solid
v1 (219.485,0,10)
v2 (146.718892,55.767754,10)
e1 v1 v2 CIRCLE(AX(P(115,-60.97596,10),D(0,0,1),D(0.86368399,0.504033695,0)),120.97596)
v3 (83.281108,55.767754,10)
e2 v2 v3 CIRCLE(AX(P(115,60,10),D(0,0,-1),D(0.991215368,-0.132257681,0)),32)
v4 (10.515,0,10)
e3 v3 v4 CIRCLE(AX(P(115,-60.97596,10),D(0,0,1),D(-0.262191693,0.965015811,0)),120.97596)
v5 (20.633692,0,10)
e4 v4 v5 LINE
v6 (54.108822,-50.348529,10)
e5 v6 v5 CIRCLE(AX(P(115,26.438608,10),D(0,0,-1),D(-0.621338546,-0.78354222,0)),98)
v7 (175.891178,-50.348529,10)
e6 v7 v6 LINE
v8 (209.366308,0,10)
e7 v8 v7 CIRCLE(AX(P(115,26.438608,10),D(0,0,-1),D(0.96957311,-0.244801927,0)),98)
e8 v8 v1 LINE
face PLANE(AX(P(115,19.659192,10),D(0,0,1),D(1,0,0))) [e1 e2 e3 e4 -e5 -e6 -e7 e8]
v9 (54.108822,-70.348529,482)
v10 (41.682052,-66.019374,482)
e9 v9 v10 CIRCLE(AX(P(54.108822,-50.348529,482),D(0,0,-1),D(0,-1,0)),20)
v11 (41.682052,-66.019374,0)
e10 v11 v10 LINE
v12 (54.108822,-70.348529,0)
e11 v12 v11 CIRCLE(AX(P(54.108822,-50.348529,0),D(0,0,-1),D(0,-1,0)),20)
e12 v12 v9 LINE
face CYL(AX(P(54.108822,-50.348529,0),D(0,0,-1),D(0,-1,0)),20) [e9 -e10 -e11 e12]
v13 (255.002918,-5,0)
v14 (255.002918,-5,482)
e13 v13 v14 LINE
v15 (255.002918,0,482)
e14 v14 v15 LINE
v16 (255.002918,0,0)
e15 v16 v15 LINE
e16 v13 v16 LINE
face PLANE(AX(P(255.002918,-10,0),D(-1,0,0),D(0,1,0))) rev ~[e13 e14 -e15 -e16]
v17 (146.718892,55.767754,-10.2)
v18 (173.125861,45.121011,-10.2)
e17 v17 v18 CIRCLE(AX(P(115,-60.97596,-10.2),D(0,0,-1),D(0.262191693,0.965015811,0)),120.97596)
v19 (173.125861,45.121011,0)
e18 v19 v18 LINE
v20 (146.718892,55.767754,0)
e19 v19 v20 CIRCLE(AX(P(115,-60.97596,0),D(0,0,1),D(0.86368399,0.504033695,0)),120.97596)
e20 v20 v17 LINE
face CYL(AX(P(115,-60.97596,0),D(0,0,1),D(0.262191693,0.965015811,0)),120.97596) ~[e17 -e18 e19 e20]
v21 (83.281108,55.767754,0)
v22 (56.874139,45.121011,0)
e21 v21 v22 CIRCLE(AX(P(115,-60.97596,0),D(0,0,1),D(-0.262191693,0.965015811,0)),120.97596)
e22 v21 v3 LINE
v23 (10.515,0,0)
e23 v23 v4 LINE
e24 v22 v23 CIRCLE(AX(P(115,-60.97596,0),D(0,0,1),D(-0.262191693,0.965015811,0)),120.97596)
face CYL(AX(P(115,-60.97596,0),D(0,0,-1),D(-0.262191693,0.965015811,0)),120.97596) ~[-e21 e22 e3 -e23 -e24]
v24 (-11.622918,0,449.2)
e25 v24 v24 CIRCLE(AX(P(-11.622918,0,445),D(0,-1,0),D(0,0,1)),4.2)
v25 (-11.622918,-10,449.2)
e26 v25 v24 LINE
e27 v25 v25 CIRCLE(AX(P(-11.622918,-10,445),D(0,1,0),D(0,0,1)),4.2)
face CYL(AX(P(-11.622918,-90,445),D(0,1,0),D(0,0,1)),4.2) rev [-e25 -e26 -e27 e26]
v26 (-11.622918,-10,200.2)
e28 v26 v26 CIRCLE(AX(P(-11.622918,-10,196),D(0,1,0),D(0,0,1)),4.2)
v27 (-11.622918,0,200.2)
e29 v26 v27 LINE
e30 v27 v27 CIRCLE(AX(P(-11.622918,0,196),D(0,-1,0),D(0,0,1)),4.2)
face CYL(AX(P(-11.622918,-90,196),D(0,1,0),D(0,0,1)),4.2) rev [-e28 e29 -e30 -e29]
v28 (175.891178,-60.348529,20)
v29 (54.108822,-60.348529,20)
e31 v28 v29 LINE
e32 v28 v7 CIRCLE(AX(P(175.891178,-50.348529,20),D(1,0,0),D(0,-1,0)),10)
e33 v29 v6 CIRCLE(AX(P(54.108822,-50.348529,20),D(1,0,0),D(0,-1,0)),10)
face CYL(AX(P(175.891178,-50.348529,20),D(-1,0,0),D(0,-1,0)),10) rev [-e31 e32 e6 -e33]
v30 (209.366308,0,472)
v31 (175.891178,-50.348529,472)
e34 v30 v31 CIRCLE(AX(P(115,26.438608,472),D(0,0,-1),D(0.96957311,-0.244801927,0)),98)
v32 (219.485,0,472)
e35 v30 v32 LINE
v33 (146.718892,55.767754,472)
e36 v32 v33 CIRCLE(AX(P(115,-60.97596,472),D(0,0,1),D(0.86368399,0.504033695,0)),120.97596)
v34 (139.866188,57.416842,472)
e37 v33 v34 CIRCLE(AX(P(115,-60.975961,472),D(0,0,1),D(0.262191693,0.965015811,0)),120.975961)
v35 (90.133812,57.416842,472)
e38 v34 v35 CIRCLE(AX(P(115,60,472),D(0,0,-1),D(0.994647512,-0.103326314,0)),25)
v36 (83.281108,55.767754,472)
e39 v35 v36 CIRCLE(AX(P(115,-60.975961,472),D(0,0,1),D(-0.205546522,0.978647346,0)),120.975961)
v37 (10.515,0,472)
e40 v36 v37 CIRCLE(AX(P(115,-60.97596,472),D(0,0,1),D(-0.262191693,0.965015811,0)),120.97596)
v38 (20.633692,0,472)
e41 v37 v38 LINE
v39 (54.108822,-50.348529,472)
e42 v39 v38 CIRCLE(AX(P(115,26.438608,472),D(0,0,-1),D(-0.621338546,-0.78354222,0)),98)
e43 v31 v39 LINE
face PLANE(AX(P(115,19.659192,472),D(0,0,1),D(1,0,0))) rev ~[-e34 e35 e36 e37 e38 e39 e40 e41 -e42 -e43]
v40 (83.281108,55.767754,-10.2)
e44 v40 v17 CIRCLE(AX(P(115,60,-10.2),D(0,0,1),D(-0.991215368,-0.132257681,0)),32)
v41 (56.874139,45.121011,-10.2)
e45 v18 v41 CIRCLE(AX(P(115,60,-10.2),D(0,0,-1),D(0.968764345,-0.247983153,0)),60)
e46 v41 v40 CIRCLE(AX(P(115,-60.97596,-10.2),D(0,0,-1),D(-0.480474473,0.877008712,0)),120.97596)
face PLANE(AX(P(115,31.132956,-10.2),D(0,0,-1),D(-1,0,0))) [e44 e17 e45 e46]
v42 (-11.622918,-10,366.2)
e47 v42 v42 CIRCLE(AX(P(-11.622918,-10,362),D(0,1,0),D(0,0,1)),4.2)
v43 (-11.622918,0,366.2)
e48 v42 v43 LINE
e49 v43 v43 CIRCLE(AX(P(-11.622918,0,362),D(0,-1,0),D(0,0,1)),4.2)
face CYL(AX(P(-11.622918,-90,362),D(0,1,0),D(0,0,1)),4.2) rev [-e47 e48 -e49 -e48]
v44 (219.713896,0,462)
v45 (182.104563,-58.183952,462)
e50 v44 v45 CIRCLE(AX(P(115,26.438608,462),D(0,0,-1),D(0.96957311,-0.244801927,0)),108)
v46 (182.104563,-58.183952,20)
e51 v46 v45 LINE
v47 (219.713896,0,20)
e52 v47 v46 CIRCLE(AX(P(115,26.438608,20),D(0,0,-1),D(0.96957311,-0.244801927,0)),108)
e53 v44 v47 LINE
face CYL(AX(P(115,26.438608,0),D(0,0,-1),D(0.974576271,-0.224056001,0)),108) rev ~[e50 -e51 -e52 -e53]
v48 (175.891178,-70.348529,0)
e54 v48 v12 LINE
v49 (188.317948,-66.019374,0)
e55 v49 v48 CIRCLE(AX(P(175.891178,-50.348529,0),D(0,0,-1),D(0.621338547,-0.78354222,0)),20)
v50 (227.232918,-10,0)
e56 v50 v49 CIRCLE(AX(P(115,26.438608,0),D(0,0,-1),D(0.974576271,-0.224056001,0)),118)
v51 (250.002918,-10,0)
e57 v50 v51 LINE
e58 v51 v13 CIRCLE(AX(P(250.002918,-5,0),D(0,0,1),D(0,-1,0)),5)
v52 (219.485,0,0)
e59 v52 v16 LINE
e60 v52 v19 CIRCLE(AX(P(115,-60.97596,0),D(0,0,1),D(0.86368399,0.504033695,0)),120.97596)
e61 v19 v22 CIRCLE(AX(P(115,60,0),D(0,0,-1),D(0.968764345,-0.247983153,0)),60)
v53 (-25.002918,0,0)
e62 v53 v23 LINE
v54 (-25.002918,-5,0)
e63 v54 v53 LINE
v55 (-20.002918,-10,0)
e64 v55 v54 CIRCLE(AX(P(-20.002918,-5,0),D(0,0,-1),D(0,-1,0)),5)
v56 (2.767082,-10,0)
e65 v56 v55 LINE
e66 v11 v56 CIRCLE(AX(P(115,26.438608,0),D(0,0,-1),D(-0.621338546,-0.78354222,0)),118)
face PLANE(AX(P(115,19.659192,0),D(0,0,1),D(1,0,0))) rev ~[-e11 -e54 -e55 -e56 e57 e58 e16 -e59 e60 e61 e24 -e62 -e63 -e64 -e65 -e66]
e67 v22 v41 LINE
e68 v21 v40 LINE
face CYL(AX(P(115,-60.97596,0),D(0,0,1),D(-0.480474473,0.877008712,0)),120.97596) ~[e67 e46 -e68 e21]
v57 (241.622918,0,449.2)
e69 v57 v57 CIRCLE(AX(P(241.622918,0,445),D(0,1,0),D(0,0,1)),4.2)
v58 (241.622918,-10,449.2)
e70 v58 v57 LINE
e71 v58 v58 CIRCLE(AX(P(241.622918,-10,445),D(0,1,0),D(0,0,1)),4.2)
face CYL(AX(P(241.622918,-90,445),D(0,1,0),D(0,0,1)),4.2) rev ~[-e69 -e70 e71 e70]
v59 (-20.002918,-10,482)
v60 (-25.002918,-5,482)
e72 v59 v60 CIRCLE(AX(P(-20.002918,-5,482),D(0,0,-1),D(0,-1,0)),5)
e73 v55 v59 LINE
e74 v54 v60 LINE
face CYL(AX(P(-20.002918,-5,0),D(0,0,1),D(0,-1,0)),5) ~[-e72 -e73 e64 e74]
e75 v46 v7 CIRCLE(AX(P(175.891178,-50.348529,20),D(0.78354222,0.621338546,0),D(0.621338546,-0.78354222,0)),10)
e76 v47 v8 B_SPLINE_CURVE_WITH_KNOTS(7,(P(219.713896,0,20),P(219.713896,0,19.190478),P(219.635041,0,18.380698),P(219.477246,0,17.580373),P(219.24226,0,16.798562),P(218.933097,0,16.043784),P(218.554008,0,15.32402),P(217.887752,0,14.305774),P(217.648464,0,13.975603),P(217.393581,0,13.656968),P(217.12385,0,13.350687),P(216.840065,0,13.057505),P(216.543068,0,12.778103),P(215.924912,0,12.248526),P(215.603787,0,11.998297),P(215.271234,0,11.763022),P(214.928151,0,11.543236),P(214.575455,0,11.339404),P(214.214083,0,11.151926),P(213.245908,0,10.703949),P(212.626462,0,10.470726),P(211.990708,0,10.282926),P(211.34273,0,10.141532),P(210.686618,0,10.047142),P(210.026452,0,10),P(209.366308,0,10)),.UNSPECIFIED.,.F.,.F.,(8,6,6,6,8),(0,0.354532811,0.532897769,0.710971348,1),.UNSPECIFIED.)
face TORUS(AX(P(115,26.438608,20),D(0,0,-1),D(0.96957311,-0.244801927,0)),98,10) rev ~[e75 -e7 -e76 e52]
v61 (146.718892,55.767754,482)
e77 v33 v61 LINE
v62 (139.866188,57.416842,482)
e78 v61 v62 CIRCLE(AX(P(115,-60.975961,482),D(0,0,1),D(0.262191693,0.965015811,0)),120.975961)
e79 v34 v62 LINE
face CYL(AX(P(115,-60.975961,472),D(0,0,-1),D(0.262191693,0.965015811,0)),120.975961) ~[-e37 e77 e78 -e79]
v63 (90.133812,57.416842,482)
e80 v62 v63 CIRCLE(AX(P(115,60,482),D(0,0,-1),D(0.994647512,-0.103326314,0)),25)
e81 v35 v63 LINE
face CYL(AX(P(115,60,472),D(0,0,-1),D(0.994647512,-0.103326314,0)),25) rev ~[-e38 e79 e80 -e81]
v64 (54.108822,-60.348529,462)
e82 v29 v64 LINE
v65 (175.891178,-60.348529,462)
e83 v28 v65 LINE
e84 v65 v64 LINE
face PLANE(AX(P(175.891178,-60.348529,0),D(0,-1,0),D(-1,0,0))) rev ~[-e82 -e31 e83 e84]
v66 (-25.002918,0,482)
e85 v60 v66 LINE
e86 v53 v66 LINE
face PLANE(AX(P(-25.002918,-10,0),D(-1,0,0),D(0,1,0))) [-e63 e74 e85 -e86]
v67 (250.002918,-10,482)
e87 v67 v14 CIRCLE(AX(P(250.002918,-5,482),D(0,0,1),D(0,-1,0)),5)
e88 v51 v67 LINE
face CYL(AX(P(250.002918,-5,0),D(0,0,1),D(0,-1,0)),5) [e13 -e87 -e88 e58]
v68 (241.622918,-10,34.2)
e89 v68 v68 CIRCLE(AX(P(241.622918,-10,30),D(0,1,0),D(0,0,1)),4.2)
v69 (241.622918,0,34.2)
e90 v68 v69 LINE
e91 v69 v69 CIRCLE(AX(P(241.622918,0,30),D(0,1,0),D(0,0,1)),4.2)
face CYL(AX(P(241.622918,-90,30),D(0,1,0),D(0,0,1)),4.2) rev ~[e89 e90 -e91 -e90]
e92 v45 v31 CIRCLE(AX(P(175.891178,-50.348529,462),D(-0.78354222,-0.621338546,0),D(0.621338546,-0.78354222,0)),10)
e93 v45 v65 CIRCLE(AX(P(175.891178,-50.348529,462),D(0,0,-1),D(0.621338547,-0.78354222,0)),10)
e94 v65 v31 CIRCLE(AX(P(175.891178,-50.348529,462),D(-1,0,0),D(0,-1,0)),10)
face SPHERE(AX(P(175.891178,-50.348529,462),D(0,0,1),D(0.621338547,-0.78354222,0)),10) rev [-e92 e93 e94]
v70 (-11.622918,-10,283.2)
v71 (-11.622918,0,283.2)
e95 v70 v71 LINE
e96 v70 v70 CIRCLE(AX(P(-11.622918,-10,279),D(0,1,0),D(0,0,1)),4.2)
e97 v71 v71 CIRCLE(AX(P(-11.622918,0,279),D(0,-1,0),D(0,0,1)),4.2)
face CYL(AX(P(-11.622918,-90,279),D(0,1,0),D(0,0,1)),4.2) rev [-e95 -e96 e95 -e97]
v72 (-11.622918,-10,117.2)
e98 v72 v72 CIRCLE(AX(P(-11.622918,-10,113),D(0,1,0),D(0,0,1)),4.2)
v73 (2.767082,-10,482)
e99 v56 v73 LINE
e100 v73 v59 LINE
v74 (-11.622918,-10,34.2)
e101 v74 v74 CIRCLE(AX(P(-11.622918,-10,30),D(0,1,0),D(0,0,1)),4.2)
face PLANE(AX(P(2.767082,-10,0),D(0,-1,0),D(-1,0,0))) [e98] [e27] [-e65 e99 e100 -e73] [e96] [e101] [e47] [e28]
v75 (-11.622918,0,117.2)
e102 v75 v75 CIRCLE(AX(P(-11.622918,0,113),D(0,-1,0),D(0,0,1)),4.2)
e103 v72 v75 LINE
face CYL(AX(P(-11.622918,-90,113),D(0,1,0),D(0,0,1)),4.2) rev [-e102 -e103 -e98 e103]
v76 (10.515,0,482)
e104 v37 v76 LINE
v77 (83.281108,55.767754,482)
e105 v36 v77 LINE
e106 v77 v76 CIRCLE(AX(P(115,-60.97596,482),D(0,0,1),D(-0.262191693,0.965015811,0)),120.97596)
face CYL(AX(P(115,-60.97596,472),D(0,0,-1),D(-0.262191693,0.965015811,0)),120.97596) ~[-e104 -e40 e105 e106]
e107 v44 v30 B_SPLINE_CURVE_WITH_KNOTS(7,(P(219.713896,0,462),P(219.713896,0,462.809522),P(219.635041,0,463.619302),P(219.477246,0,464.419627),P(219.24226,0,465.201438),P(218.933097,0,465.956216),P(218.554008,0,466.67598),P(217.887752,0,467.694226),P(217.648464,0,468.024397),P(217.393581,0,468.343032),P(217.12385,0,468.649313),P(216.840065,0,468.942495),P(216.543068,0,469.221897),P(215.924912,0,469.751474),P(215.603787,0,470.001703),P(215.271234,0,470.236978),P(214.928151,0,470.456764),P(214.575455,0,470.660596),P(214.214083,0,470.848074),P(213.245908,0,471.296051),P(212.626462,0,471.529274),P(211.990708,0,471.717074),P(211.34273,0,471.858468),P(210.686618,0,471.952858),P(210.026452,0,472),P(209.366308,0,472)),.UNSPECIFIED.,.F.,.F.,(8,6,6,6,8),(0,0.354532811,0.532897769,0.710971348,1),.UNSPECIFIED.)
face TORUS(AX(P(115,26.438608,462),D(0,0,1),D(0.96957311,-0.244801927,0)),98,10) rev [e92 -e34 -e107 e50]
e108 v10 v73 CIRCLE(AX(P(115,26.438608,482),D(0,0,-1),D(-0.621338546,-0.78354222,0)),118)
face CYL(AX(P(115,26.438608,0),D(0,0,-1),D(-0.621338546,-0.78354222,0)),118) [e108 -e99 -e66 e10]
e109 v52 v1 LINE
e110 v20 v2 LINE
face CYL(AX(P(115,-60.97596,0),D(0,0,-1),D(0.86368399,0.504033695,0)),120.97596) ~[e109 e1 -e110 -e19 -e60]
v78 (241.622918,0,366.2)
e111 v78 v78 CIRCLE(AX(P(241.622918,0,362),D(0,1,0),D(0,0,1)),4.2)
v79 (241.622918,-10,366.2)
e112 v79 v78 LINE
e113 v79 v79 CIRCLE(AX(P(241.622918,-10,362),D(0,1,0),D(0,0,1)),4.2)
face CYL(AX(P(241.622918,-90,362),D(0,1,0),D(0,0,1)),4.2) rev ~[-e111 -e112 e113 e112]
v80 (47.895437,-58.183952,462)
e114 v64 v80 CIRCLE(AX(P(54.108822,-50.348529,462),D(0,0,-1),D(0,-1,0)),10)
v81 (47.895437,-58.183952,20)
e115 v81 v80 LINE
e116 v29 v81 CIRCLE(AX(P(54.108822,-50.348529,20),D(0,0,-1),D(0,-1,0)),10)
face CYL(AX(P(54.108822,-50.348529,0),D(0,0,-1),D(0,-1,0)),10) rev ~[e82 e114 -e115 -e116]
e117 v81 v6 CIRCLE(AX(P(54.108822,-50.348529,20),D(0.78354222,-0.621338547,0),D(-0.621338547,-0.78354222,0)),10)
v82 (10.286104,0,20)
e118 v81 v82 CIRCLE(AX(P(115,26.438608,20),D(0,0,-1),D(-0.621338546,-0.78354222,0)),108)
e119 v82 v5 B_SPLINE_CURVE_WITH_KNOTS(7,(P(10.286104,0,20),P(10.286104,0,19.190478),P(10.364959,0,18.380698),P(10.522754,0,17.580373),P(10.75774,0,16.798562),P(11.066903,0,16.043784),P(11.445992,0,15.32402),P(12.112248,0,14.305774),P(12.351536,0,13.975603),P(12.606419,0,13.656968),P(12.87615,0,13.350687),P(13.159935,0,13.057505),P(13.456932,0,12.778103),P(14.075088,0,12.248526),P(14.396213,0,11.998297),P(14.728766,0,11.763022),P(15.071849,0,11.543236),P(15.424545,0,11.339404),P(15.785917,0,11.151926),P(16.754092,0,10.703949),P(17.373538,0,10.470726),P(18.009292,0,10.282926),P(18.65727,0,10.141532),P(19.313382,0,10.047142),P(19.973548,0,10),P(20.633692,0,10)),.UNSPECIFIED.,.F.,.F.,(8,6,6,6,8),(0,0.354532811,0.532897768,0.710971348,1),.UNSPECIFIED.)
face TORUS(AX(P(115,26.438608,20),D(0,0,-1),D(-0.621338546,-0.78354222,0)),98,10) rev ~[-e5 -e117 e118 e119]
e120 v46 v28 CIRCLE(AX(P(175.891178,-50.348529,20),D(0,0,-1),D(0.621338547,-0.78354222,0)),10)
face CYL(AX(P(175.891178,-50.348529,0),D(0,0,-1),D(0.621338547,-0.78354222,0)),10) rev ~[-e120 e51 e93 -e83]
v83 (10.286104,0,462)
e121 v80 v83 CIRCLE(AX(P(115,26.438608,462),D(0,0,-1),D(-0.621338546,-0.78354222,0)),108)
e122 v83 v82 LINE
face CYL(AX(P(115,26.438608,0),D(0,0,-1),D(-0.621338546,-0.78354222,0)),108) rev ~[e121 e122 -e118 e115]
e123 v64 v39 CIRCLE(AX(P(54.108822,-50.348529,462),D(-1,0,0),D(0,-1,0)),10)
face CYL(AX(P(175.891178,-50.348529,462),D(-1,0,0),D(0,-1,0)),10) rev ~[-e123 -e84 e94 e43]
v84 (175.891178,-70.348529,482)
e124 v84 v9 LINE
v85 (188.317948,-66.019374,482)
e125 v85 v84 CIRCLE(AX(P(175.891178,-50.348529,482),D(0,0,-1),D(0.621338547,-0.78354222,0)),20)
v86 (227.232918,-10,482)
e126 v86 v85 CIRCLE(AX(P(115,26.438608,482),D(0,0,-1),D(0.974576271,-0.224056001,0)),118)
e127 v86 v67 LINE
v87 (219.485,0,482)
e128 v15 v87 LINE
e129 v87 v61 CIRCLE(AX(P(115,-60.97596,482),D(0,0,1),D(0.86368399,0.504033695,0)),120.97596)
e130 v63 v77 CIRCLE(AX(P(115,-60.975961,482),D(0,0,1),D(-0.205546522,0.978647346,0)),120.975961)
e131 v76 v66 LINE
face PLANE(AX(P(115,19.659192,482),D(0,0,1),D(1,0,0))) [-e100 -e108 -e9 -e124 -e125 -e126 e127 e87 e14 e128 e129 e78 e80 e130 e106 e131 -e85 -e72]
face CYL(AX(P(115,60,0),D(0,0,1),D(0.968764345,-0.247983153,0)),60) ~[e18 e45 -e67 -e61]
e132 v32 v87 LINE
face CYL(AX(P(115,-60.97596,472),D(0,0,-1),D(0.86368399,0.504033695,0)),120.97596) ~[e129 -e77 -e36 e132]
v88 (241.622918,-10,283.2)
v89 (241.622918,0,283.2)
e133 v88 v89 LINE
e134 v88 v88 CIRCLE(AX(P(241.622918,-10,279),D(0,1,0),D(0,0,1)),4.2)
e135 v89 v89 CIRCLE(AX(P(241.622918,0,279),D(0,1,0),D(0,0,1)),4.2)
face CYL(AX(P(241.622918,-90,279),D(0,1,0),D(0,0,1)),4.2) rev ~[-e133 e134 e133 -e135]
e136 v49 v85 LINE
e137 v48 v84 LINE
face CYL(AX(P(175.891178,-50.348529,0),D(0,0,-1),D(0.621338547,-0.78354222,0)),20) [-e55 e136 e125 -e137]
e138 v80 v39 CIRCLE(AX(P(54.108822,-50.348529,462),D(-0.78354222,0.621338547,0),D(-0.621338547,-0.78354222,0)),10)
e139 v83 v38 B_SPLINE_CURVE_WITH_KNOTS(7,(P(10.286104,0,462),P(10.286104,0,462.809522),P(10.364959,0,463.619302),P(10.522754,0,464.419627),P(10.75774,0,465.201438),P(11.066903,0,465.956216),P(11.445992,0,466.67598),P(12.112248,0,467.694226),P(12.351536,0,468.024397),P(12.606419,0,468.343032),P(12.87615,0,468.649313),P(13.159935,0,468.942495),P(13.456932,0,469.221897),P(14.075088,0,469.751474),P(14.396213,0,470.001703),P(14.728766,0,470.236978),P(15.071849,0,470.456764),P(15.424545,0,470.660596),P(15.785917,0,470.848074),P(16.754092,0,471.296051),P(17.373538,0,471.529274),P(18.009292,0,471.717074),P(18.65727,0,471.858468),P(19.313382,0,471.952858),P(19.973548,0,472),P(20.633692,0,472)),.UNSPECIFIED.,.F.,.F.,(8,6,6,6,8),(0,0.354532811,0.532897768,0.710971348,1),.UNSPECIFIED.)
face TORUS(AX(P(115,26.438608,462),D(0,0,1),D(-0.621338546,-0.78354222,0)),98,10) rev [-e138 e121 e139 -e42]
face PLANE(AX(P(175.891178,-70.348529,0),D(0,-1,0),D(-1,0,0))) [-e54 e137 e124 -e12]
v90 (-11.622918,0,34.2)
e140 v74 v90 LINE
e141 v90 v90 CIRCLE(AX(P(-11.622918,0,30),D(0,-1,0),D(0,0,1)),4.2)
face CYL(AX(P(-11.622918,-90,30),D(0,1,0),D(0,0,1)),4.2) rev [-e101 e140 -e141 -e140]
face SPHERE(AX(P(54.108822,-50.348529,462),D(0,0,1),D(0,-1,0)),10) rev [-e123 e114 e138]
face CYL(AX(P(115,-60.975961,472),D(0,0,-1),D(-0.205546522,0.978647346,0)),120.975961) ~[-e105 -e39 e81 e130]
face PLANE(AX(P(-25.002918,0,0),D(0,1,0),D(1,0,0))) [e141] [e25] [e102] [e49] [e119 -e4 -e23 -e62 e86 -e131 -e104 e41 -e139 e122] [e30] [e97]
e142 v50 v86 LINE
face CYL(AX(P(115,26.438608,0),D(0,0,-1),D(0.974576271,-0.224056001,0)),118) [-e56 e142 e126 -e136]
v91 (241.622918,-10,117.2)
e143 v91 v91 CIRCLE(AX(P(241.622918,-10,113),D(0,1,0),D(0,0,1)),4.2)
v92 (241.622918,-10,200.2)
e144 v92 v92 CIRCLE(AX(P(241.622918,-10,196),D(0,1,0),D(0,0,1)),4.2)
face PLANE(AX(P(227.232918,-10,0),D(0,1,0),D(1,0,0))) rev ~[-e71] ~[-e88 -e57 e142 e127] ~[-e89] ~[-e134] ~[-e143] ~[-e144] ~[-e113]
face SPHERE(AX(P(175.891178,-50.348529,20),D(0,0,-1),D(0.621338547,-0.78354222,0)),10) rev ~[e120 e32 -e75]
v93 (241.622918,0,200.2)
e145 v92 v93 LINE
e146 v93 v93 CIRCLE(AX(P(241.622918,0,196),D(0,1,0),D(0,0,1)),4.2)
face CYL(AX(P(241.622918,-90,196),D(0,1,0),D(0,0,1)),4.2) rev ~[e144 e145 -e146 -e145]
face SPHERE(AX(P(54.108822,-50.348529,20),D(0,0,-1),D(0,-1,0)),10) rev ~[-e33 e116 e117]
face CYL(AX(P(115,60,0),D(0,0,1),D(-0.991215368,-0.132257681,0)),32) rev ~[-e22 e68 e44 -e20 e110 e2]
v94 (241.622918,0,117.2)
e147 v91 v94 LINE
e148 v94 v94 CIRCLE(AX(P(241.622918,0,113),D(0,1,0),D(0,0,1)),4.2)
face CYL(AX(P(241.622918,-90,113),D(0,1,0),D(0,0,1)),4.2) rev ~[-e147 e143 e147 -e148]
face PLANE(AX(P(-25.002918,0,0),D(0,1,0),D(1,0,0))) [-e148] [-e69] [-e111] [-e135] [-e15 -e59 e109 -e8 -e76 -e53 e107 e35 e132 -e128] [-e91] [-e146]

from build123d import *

# Parameters (mm, degrees)
SALIENTE_EXTRUIR1_DEPTH              = 482
VACIADO1_T                           = -10
REDONDEO1_R                          = 10
REDONDEO2_R                          = 10
SALIENTE_EXTRUIR2_START              = -482
SALIENTE_EXTRUIR2_DEPTH              = 482
REDONDEO3_R                          = 5
SALIENTE_EXTRUIR3_DEPTH              = 10
SALIENTE_EXTRUIR4_DEPTH              = 10.2
SALIENTE_EXTRUIR5_START              = -10
SALIENTE_EXTRUIR5_DEPTH              = 10
RANURA_DE_MARGEN_PARA_M81_AT_2_COUNT = 2
RANURA_DE_MARGEN_PARA_M81_AT_2_PITCH = 83
RANURA_DE_MARGEN_PARA_M81_AT_3_COUNT = 2
RANURA_DE_MARGEN_PARA_M81_AT_3_PITCH = 166
RANURA_DE_MARGEN_PARA_M81_AT_4_COUNT = 2
RANURA_DE_MARGEN_PARA_M81_AT_4_PITCH = 249
RANURA_DE_MARGEN_PARA_M81_AT_5_COUNT = 2
RANURA_DE_MARGEN_PARA_M81_AT_5_PITCH = 332
RANURA_DE_MARGEN_PARA_M81_AT_6_COUNT = 2
RANURA_DE_MARGEN_PARA_M81_AT_6_PITCH = 415


with BuildPart() as part:
    # Croquis1 → Saliente-Extruir1 (new body)
    with BuildSketch(Plane.XY):
        with BuildLine():
            Line((0, 0), (230, 0))
            ThreePointArc((230, 0), (214.777511796, -36.557011873), (188.317948474, -66.019373845))
            ThreePointArc((188.317948474, -66.019373845), (182.470809449, -69.235256105), (175.891177547, -70.348529442))
            Line((175.891177547, -70.348529442), (54.108822453, -70.348529442))
            ThreePointArc((54.108822453, -70.348529442), (47.529190551, -69.235256105), (41.682051526, -66.019373845))
            ThreePointArc((41.682051526, -66.019373845), (15.222488204, -36.557011873), (0, 0))
        make_face()
    extrude(amount=SALIENTE_EXTRUIR1_DEPTH)

    # Vaciado1
    vaciado1_openings = [part.faces().sort_by_distance(p)[0] for p in [
        (115, 0, 241),
    ]]
    offset(amount=VACIADO1_T, openings=vaciado1_openings, kind=Kind.INTERSECTION)

    # Redondeo1
    redondeo1_edges = [part.edges().sort_by_distance(p)[0] for p in [
        (24.298628648, -32.189552634, 472),
        (50.819006502, -59.791892774, 472),
        (115, -60.348529442, 472),
        (179.180993498, -59.791892774, 472),
        (205.701371352, -32.189552634, 472),
    ]]
    fillet(redondeo1_edges, radius=REDONDEO1_R)

    # Redondeo2
    redondeo2_edges = [part.edges().sort_by_distance(p)[0] for p in [
        (24.298628648, -32.189552634, 10),
        (50.819006502, -59.791892774, 10),
        (115, -60.348529442, 10),
        (179.180993498, -59.791892774, 10),
        (205.701371352, -32.189552634, 10),
    ]]
    fillet(redondeo2_edges, radius=REDONDEO2_R)

    # Croquis2 → Saliente-Extruir2 (add)
    with BuildSketch(Plane.XY.offset(482).offset(SALIENTE_EXTRUIR2_START)):
        with BuildLine():
            Line((2.767082202, -10), (-25.0029178, -10))
            Line((-25.0029178, -10), (-25.0029178, 0))
            Line((-25.0029178, 0), (0, 0))
            ThreePointArc((0, 0), (1.273575047, -5.030428511), (2.767082202, -10))
        make_face()
        with BuildLine():
            Line((255.0029178, 0), (230, 0))
            ThreePointArc((230, 0), (228.726424953, -5.030428511), (227.232917798, -10))
            Line((227.232917798, -10), (255.0029178, -10))
            Line((255.0029178, -10), (255.0029178, 0))
        make_face()
    extrude(amount=SALIENTE_EXTRUIR2_DEPTH)

    # Redondeo3
    redondeo3_edges = [part.edges().sort_by_distance(p)[0] for p in [
        (-25.0029178, -10, 241),
        (255.0029178, -10, 241),
    ]]
    fillet(redondeo3_edges, radius=REDONDEO3_R)



with BuildPart() as body_2:
    # Croquis3 → Saliente-Extruir3 (new body)
    with BuildSketch(Plane(origin=(0, 0, 0), x_dir=(-1, 0, 0), z_dir=(0, 0, -1))):
        with BuildLine():
            Line((-10.515, 0), (-219.485, 0))
            ThreePointArc((-219.485, 0), (-188.589303813, 35.043815425), (-146.718891775, 55.767754196))
            ThreePointArc((-146.718891775, 55.767754196), (-115, 28), (-83.281108225, 55.767754196))
            ThreePointArc((-83.281108225, 55.767754196), (-41.410696187, 35.043815425), (-10.515, 0))
        make_face()
    extrude(amount=-SALIENTE_EXTRUIR3_DEPTH)


with BuildPart() as part_1:
    add(part.part)

    add(body_2.part)  # Saliente-Extruir4 merges body 2
    # Croquis4 → Saliente-Extruir4 (add)
    with BuildSketch(Plane(origin=(0, 0, 0), x_dir=(-1, 0, 0), z_dir=(0, 0, -1))):
        with BuildLine():
            ThreePointArc((-173.125860697, 45.121010845), (-115, 0), (-56.874139303, 45.121010845))
            ThreePointArc((-56.874139303, 45.121010845), (-69.763309442, 51.223971947), (-83.281108225, 55.767754196))
            ThreePointArc((-83.281108225, 55.767754196), (-115, 28), (-146.718891775, 55.767754196))
            ThreePointArc((-146.718891775, 55.767754196), (-160.236690558, 51.223971947), (-173.125860697, 45.121010845))
        make_face()
    extrude(amount=SALIENTE_EXTRUIR4_DEPTH)

    # Croquis5 → Saliente-Extruir5 (add)
    with BuildSketch(Plane.XY.offset(482).offset(SALIENTE_EXTRUIR5_START)):
        with BuildLine():
            ThreePointArc((83.281108225, 55.767754196), (41.410696187, 35.043815425), (10.515, 0))
            Line((10.515, 0), (219.485, 0))
            ThreePointArc((219.485, 0), (188.589303813, 35.043815425), (146.718891775, 55.767754196))
            ThreePointArc((146.718891775, 55.767754196), (115, 28), (83.281108225, 55.767754196))
        make_face()
        with BuildLine():
            ThreePointArc((90.133812203, 57.416842161), (86.69544771, 56.642215547), (83.281108225, 55.767754196))
            ThreePointArc((83.281108225, 55.767754196), (115, 28), (146.718891775, 55.767754196))
            ThreePointArc((146.718891775, 55.767754196), (143.30455229, 56.642215547), (139.866187797, 57.416842161))
            ThreePointArc((139.866187797, 57.416842161), (115, 35), (90.133812203, 57.416842161))
        make_face()
    extrude(amount=SALIENTE_EXTRUIR5_DEPTH)

    # Croquis8 → Ranura de margen para M81 (revolve, cut)
    with BuildSketch(Plane(origin=(-11.6229178, 0, 30), x_dir=(0, 0, 1), z_dir=(1, 0, 0))):
        Polygon((0, 0), (0, 92.5236146), (4.2, 90), (4.2, 0), align=None)
    ranura_de_margen_para_m81 = revolve(axis=Axis((-11.6229178, 6.35, 30), (0, -1, 0)), mode=Mode.SUBTRACT)

    # Ranura de margen para M81 at 2: Ranura de margen para M81 ×2
    with Locations(*[(0, 0, i * RANURA_DE_MARGEN_PARA_M81_AT_2_PITCH) for i in range(1, RANURA_DE_MARGEN_PARA_M81_AT_2_COUNT)]):
        add(ranura_de_margen_para_m81, mode=Mode.SUBTRACT)

    # Ranura de margen para M81 at 3: Ranura de margen para M81 ×2
    with Locations(*[(0, 0, i * RANURA_DE_MARGEN_PARA_M81_AT_3_PITCH) for i in range(1, RANURA_DE_MARGEN_PARA_M81_AT_3_COUNT)]):
        add(ranura_de_margen_para_m81, mode=Mode.SUBTRACT)

    # Ranura de margen para M81 at 4: Ranura de margen para M81 ×2
    with Locations(*[(0, 0, i * RANURA_DE_MARGEN_PARA_M81_AT_4_PITCH) for i in range(1, RANURA_DE_MARGEN_PARA_M81_AT_4_COUNT)]):
        add(ranura_de_margen_para_m81, mode=Mode.SUBTRACT)

    # Ranura de margen para M81 at 5: Ranura de margen para M81 ×2
    with Locations(*[(0, 0, i * RANURA_DE_MARGEN_PARA_M81_AT_5_PITCH) for i in range(1, RANURA_DE_MARGEN_PARA_M81_AT_5_COUNT)]):
        add(ranura_de_margen_para_m81, mode=Mode.SUBTRACT)

    # Ranura de margen para M81 at 6: Ranura de margen para M81 ×2
    with Locations(*[(0, 0, i * RANURA_DE_MARGEN_PARA_M81_AT_6_PITCH) for i in range(1, RANURA_DE_MARGEN_PARA_M81_AT_6_COUNT)]):
        add(ranura_de_margen_para_m81, mode=Mode.SUBTRACT)

    # Simetría1: Ranura de margen para M81 across plane
    add(ranura_de_margen_para_m81.mirror(Plane(origin=(115, 0, 0), x_dir=(0, 0, 1), z_dir=(1, 0, 0))), mode=Mode.SUBTRACT)

    # Simetría1 copy 1 sketch → Simetría1 copy 1 (revolve, cut)
    with BuildSketch(Plane(origin=(241.6229178, 0, 113), x_dir=(0, 0, 1), z_dir=(-1, 0, 0))):
        Polygon((0, 0), (0, -92.5236146), (4.2, -90), (4.2, 0), align=None)
    revolve(axis=Axis((241.6229178, 6.35, 113), (0, 1, 0)), mode=Mode.SUBTRACT)

    # Simetría1 copy 2 sketch → Simetría1 copy 2 (revolve, cut)
    with BuildSketch(Plane(origin=(241.6229178, 0, 196), x_dir=(0, 0, 1), z_dir=(-1, 0, 0))):
        Polygon((0, 0), (0, -92.5236146), (4.2, -90), (4.2, 0), align=None)
    revolve(axis=Axis((241.6229178, 6.35, 196), (0, 1, 0)), mode=Mode.SUBTRACT)

    # Simetría1 copy 3 sketch → Simetría1 copy 3 (revolve, cut)
    with BuildSketch(Plane(origin=(241.6229178, 0, 279), x_dir=(0, 0, 1), z_dir=(-1, 0, 0))):
        Polygon((0, 0), (0, -92.5236146), (4.2, -90), (4.2, 0), align=None)
    revolve(axis=Axis((241.6229178, 6.35, 279), (0, 1, 0)), mode=Mode.SUBTRACT)

    # Simetría1 copy 4 sketch → Simetría1 copy 4 (revolve, cut)
    with BuildSketch(Plane(origin=(241.6229178, 0, 362), x_dir=(0, 0, 1), z_dir=(-1, 0, 0))):
        Polygon((0, 0), (0, -92.5236146), (4.2, -90), (4.2, 0), align=None)
    revolve(axis=Axis((241.6229178, 6.35, 362), (0, 1, 0)), mode=Mode.SUBTRACT)

    # Simetría1 copy 5 sketch → Simetría1 copy 5 (revolve, cut)
    with BuildSketch(Plane(origin=(241.6229178, 0, 445), x_dir=(0, 0, 1), z_dir=(-1, 0, 0))):
        Polygon((0, 0), (0, -92.5236146), (4.2, -90), (4.2, 0), align=None)
    revolve(axis=Axis((241.6229178, 6.35, 445), (0, 1, 0)), mode=Mode.SUBTRACT)


solid = part_1.part
